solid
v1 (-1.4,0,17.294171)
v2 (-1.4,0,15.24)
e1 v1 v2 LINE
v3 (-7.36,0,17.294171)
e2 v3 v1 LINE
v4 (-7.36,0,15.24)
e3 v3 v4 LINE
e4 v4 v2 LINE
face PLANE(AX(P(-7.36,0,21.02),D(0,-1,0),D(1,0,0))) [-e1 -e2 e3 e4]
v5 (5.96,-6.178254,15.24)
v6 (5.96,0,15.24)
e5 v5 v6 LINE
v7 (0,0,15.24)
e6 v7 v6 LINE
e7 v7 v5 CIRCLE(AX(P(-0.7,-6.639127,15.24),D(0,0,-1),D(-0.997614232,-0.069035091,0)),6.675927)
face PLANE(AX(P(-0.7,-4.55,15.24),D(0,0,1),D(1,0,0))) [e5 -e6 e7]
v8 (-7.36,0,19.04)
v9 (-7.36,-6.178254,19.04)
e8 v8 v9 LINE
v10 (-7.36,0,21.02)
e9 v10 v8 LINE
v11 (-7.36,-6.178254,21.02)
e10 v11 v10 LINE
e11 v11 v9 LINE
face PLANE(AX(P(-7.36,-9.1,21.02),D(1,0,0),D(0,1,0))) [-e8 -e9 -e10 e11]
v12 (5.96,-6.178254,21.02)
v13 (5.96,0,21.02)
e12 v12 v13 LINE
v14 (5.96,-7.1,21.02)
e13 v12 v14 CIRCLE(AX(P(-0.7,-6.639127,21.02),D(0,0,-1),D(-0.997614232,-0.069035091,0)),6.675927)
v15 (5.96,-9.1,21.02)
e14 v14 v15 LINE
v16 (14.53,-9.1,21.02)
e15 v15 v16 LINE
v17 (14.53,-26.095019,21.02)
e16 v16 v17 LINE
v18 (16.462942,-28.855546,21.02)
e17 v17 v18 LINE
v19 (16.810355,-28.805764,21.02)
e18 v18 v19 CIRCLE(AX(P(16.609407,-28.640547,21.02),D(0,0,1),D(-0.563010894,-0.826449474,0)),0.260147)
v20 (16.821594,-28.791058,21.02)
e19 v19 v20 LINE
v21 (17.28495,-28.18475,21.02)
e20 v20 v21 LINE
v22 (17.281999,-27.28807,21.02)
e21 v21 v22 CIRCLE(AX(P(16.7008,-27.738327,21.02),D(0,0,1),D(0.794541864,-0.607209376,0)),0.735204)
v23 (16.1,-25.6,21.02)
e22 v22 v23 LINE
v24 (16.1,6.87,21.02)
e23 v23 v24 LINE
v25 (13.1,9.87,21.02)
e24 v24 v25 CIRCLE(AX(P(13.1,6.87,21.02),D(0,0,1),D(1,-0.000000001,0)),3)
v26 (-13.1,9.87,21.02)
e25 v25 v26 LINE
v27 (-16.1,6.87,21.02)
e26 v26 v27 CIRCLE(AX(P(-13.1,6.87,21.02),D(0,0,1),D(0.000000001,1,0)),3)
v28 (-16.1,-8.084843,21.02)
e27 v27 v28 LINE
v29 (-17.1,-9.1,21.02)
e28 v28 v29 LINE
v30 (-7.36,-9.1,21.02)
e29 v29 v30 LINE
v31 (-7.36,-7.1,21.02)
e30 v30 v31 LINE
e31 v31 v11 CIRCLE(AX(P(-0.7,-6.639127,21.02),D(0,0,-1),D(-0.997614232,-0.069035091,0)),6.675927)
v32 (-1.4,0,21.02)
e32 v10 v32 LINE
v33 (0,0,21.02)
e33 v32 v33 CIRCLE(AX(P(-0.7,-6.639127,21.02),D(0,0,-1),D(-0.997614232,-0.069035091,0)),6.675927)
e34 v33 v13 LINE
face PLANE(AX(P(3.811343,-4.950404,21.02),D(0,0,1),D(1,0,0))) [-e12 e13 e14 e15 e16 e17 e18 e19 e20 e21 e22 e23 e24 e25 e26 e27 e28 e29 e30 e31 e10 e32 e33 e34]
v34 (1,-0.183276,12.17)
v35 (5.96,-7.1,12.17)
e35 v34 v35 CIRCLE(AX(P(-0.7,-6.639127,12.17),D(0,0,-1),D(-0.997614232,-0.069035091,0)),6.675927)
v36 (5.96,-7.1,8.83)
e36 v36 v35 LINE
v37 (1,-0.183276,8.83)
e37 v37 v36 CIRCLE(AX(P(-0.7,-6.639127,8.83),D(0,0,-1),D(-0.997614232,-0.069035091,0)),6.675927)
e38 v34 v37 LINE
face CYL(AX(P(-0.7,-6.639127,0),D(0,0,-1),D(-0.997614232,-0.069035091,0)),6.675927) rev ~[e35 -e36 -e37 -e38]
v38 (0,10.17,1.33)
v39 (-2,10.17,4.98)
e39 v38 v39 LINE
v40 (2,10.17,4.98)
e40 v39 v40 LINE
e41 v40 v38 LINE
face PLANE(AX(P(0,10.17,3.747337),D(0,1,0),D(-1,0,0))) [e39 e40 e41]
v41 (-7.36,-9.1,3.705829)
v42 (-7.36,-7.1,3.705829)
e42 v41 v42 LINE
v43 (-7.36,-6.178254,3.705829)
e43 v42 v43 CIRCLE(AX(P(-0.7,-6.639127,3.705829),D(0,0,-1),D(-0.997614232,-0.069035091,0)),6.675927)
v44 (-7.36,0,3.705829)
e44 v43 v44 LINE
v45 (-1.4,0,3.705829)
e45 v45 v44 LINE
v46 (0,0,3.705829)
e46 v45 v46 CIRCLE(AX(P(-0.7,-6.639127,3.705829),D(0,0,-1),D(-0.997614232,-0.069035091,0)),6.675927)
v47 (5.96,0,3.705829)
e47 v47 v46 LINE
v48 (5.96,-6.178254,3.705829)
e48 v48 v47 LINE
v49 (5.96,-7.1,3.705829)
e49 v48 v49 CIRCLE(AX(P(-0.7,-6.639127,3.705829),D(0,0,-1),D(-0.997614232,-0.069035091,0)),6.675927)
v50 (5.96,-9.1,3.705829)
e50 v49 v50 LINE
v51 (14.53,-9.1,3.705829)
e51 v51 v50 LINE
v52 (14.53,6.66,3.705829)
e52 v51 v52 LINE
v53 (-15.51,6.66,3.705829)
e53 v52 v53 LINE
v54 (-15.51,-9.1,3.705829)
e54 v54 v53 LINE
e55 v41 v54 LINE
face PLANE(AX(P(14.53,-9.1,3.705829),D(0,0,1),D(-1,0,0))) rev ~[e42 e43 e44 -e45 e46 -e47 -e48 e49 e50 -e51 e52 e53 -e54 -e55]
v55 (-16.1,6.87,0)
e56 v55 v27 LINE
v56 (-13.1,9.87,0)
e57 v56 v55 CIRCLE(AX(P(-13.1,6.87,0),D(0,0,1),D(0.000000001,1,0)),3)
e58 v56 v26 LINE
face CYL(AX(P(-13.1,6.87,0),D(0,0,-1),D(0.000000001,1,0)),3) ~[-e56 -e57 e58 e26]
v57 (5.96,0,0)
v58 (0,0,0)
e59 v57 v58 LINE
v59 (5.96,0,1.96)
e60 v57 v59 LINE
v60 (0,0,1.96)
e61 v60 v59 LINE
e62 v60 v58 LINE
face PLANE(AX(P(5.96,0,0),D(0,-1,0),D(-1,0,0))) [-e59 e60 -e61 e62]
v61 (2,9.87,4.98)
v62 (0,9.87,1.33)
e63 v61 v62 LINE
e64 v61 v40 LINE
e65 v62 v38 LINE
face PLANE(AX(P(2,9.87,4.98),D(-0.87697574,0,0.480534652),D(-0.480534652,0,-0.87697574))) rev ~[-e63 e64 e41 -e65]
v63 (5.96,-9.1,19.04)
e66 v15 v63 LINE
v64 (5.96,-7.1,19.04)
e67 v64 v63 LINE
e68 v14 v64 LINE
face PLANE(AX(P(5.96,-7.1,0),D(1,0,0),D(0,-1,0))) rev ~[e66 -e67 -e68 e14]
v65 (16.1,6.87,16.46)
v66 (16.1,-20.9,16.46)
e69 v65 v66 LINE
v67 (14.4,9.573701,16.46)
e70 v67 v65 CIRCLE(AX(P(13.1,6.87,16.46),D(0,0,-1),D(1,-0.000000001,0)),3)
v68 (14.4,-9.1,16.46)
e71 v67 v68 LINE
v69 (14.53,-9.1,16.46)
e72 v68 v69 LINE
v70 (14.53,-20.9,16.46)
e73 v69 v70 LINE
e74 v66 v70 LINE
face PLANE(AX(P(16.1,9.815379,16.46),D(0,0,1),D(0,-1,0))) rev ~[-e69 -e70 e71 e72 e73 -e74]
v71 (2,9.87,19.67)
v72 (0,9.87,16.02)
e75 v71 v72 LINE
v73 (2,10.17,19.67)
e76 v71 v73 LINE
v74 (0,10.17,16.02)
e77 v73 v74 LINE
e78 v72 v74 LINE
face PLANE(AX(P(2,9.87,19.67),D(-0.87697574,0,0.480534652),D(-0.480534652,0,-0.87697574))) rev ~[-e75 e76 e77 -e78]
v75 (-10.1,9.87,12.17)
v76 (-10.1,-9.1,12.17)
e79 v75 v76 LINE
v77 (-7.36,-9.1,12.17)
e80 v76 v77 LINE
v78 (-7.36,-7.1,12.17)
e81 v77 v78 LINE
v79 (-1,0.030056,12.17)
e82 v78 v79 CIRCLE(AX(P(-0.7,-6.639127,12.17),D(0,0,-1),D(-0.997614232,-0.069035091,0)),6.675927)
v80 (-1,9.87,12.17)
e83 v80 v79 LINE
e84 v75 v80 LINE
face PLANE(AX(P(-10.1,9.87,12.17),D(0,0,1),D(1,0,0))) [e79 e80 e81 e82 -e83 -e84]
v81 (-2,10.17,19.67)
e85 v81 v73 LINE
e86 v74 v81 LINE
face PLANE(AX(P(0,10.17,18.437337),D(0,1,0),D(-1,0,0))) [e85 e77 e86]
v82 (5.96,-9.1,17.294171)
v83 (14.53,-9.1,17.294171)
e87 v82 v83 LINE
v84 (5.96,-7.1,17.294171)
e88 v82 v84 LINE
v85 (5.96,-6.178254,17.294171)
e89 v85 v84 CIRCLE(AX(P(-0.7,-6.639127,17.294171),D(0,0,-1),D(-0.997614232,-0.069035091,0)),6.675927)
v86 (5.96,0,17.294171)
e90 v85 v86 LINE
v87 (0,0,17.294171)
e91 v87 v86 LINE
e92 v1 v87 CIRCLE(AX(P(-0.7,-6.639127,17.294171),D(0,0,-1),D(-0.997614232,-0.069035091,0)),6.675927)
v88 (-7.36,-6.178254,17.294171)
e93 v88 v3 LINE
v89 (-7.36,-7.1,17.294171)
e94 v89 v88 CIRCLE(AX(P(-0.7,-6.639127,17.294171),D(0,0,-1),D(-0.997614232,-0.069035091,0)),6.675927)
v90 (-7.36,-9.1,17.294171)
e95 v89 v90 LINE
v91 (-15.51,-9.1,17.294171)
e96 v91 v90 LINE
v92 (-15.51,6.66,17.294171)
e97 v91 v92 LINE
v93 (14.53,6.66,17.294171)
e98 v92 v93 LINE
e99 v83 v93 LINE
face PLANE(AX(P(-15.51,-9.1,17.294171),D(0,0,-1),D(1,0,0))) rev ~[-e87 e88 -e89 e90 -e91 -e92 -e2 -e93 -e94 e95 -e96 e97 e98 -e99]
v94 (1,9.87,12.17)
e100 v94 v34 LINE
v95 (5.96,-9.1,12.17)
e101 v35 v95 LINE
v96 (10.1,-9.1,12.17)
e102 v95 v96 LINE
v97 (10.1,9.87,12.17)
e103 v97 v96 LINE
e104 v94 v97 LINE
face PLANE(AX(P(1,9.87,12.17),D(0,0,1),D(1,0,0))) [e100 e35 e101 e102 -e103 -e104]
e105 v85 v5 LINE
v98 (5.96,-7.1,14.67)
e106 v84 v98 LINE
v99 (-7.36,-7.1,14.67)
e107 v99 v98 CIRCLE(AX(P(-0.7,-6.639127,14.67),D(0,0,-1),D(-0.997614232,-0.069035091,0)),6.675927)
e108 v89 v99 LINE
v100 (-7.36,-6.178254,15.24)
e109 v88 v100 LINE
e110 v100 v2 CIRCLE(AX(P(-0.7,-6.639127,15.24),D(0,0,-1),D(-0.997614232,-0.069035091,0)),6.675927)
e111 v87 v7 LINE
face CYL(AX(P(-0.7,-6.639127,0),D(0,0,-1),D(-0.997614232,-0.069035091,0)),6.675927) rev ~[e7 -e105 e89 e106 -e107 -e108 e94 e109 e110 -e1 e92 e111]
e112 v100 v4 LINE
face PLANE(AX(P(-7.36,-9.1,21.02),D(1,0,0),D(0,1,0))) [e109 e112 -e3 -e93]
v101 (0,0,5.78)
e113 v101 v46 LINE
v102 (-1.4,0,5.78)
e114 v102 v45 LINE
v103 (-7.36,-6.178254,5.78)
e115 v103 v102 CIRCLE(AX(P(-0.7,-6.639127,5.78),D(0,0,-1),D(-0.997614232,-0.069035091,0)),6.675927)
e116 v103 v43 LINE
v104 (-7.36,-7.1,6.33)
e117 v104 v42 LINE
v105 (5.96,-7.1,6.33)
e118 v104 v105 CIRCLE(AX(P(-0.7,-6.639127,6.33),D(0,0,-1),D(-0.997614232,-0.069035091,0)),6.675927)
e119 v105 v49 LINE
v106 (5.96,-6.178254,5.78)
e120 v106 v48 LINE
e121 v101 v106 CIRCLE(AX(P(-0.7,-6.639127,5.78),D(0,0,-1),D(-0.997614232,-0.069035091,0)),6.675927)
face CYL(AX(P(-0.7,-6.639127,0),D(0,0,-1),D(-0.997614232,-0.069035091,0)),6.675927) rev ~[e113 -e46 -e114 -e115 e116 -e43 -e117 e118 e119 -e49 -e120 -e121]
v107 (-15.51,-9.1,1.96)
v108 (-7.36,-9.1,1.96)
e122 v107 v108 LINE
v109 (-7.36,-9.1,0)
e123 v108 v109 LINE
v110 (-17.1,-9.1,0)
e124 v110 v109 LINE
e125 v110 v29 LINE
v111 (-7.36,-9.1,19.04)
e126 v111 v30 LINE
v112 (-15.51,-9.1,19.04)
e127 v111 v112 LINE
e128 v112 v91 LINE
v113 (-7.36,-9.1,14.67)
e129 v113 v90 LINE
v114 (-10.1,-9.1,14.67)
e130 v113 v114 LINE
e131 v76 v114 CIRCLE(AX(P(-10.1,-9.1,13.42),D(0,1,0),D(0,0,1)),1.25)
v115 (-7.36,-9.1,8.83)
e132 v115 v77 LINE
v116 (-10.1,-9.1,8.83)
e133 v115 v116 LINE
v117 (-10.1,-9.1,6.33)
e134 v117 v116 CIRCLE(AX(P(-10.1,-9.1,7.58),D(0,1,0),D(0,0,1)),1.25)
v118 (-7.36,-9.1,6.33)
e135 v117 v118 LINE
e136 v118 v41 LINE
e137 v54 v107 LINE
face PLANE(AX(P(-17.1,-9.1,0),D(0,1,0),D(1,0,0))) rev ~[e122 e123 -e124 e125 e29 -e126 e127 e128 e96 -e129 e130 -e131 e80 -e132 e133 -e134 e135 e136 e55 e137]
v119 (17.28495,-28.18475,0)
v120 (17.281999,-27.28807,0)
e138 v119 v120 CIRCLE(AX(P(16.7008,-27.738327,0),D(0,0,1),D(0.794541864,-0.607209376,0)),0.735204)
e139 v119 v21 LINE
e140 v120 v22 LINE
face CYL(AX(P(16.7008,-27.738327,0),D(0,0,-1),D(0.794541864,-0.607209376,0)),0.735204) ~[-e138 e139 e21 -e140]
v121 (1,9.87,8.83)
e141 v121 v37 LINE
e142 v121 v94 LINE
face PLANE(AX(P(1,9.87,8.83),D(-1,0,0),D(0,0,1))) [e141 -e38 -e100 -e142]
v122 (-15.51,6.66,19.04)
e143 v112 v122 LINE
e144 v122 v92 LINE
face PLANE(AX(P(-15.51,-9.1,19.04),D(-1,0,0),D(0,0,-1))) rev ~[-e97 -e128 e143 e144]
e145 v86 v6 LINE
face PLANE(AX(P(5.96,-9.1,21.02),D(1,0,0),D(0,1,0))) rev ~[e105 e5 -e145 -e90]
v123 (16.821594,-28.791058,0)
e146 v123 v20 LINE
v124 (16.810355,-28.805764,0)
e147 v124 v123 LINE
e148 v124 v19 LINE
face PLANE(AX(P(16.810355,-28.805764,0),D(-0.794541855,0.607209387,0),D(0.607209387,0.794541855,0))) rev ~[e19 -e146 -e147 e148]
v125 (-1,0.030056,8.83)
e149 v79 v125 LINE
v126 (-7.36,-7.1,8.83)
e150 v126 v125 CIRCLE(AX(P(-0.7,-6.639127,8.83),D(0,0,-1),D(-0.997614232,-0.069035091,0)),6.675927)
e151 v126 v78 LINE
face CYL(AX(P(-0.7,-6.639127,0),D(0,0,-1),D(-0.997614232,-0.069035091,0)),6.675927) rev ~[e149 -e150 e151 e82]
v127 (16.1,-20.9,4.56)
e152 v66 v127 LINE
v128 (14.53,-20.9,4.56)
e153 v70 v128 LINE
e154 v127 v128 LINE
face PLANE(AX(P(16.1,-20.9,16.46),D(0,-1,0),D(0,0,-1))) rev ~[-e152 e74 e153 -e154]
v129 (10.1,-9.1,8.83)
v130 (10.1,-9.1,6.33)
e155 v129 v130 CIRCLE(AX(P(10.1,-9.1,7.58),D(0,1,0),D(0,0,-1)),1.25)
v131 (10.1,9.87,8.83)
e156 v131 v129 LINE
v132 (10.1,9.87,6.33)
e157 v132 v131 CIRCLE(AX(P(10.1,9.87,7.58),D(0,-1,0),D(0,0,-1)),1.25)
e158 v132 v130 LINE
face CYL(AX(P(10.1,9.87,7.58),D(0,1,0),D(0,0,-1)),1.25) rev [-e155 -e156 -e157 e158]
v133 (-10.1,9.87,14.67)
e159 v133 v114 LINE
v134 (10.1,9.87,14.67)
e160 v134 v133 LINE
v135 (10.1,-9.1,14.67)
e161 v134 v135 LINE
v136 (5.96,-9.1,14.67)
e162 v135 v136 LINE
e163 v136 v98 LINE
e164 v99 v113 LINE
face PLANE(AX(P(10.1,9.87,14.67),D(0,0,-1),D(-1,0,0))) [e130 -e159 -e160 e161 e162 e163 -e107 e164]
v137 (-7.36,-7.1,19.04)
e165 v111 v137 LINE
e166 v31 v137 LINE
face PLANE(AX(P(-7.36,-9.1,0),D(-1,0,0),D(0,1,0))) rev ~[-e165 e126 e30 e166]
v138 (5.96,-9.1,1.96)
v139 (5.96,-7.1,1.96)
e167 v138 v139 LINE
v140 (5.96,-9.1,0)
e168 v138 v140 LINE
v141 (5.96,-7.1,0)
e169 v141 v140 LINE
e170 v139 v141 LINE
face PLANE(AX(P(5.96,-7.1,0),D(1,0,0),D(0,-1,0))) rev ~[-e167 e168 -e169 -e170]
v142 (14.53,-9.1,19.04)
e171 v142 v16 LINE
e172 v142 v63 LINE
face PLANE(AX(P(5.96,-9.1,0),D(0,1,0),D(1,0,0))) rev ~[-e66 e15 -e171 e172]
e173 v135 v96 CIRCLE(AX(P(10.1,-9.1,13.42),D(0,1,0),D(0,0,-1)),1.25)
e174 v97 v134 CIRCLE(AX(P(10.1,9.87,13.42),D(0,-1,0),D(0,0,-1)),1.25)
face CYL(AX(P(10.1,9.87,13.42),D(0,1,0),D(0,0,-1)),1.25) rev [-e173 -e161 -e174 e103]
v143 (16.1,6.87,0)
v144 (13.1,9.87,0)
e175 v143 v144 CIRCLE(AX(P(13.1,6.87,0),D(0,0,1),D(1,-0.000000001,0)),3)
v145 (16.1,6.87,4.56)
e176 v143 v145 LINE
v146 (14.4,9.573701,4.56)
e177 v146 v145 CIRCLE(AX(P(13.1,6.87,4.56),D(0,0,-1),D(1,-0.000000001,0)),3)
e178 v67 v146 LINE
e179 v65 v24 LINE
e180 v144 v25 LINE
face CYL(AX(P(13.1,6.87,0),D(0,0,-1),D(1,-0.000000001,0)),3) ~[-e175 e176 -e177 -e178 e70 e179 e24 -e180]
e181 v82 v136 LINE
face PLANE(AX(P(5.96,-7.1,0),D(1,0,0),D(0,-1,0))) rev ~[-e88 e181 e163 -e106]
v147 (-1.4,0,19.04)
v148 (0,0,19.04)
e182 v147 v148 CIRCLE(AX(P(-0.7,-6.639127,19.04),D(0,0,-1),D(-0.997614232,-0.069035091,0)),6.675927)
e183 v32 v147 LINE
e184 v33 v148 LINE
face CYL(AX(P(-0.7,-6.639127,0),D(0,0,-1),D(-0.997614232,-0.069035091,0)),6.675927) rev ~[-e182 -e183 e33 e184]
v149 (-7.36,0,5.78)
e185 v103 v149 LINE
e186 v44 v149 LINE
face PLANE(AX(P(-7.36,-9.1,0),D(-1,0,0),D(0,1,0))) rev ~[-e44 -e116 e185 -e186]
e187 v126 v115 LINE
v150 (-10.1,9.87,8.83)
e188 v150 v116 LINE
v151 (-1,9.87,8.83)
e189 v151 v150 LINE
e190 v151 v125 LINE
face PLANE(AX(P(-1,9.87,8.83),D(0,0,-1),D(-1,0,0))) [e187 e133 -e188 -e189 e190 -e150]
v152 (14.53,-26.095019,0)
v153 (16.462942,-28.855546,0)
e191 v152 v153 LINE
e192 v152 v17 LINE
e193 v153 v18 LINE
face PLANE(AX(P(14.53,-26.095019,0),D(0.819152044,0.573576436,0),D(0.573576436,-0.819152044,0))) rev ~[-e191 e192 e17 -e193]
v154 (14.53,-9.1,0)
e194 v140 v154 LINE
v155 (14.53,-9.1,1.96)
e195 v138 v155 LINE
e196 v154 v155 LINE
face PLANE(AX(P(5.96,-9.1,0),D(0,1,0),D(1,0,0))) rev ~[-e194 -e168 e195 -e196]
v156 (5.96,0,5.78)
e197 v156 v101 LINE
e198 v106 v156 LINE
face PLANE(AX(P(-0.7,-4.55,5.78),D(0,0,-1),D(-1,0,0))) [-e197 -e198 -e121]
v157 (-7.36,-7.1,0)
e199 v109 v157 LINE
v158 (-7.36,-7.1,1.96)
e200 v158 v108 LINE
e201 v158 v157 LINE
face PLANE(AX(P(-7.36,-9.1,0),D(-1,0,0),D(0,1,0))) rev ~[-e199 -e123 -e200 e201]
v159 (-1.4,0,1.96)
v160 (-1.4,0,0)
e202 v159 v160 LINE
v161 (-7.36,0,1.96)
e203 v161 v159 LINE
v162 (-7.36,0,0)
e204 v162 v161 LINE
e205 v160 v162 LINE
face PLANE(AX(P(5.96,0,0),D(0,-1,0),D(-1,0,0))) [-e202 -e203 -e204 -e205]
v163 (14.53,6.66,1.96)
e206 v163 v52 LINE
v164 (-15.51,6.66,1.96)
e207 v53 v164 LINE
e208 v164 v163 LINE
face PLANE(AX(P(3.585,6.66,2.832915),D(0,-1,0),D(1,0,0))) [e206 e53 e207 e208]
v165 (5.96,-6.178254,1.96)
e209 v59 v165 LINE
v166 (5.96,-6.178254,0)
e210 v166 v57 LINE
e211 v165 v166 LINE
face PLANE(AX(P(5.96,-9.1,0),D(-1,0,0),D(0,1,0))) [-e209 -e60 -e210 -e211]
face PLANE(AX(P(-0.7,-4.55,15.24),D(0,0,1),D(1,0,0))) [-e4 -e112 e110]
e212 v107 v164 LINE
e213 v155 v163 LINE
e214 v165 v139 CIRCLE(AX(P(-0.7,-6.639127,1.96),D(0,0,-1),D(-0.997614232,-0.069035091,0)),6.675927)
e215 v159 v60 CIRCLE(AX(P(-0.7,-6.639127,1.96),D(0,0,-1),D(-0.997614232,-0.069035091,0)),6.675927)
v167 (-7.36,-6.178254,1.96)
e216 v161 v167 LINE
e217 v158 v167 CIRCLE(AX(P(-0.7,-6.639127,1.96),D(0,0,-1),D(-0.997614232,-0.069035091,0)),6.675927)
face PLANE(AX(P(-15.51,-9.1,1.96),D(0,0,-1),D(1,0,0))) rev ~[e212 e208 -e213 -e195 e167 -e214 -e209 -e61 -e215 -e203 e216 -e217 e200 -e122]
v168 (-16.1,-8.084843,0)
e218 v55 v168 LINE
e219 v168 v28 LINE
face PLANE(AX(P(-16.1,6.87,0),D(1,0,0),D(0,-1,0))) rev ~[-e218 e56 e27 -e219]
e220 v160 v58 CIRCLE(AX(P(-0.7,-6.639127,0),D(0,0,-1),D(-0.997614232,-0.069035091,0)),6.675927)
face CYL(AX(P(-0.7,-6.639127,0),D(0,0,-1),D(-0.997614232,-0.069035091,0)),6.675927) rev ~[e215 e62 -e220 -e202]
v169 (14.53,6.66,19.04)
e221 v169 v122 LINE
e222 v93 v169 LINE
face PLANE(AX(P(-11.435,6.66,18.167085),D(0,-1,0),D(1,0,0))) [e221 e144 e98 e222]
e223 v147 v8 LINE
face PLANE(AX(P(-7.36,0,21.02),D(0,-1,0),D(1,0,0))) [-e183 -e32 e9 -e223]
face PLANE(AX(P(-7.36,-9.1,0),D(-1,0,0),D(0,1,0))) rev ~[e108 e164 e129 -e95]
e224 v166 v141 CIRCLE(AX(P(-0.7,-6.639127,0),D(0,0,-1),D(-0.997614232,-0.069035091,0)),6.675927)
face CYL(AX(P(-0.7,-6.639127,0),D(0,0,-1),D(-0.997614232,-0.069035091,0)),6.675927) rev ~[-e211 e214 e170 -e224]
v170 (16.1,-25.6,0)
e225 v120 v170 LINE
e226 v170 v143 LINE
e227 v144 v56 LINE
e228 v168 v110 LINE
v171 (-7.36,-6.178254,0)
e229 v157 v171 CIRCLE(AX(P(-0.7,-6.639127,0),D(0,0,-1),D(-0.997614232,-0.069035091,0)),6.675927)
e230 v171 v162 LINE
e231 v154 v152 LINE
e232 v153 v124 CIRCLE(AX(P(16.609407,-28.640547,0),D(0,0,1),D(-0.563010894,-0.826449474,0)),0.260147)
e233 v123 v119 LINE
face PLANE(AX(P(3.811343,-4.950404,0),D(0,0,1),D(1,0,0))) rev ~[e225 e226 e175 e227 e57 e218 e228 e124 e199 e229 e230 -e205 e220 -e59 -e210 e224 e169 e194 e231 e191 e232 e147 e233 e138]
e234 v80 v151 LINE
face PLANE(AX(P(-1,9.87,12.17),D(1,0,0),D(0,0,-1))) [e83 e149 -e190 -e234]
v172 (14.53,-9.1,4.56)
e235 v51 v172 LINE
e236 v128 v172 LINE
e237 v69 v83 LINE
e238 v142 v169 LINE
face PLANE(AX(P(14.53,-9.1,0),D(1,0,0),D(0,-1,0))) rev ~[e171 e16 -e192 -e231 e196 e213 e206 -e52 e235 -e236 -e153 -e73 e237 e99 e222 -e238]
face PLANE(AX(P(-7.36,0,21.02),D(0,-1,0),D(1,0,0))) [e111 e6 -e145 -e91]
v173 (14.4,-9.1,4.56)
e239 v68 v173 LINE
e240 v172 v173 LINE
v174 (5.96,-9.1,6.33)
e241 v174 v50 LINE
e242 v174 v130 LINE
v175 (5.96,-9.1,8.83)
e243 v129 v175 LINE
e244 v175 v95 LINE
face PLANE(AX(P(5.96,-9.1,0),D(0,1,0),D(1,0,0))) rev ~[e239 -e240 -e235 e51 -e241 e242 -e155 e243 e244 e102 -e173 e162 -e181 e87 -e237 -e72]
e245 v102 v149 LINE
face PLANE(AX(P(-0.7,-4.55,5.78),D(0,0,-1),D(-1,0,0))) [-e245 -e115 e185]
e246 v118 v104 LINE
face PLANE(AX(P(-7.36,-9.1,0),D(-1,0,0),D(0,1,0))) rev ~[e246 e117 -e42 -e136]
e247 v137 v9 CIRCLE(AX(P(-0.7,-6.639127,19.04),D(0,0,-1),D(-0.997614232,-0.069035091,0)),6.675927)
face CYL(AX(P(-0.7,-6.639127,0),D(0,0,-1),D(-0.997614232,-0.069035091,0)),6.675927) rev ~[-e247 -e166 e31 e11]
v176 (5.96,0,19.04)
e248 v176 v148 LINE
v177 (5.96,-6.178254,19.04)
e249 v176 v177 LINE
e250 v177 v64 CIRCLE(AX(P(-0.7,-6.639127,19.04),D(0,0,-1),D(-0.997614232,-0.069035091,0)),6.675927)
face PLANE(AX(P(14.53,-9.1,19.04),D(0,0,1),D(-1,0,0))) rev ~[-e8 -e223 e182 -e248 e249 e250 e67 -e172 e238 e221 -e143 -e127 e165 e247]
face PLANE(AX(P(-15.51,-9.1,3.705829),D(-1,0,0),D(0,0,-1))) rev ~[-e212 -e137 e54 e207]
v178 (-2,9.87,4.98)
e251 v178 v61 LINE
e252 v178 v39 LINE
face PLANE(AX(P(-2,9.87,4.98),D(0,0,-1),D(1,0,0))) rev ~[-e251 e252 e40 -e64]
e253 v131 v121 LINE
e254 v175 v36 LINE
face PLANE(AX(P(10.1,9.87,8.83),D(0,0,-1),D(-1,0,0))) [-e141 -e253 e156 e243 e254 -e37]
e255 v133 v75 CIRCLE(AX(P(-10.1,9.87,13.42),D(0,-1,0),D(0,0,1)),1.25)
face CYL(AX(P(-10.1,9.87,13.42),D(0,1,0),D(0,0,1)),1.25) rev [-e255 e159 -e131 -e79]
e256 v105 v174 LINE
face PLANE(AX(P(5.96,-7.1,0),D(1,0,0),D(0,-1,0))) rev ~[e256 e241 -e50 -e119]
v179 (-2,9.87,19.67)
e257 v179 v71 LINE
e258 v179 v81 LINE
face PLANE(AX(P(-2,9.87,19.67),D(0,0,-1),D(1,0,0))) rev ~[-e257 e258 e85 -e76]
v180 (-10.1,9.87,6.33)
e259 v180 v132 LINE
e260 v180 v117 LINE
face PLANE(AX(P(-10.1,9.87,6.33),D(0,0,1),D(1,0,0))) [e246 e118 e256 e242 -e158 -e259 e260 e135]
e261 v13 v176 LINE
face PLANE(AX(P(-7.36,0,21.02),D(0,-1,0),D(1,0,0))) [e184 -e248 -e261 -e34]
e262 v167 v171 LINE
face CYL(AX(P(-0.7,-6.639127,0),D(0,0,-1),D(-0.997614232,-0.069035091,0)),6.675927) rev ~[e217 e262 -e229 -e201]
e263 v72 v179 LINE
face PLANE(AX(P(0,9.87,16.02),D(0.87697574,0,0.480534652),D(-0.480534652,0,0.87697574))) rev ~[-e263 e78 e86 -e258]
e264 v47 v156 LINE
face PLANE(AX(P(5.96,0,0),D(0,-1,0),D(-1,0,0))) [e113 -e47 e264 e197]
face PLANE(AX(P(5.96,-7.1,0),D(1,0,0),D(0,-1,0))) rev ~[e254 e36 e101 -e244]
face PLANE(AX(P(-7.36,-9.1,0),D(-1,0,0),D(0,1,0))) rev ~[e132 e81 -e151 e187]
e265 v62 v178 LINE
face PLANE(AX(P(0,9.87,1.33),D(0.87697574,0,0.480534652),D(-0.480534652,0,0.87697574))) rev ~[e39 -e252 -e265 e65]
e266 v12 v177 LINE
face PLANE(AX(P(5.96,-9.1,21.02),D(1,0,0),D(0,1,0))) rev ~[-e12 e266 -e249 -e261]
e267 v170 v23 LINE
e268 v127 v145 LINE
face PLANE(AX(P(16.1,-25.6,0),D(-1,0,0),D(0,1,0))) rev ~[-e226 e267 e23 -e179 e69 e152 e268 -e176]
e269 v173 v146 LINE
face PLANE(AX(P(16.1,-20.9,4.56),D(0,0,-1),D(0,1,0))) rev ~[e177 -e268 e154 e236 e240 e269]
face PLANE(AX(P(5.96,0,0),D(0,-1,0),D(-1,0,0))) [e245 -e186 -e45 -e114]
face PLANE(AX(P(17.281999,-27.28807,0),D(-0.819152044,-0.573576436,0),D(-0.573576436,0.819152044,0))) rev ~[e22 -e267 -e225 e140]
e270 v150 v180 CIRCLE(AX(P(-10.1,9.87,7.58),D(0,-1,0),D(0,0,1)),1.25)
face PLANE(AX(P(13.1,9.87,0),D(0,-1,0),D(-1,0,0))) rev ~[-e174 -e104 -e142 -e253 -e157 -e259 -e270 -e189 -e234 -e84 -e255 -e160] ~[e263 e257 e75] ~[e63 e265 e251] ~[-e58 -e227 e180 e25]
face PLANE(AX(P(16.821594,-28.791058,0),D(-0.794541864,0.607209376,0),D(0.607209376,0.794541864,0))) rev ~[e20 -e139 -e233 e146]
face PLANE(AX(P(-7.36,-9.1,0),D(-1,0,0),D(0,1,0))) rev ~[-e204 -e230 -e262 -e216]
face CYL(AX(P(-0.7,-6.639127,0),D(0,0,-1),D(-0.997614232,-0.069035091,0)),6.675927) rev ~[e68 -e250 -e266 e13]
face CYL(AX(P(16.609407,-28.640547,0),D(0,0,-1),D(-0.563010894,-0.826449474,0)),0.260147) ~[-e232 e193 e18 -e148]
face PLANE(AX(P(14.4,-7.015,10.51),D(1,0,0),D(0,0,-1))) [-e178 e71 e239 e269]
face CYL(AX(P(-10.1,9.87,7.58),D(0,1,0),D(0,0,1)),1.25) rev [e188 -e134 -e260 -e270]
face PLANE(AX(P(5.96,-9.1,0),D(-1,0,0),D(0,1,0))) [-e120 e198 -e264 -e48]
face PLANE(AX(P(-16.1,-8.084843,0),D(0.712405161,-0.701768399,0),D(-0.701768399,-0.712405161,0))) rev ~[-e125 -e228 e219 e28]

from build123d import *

# Parameters (mm, degrees)
SALIENTE_EXTRUIR1_DEPTH = 21.02
CORTAR_EXTRUIR1_DEPTH   = 48.423848102
SALIENTE_EXTRUIR2_DEPTH = 0.3
CORTAR_EXTRUIR2_DEPTH   = 1.7
CROQUIS6_W              = 13.32
CROQUIS6_H              = 9.1
CORTAR_EXTRUIR3_DEPTH   = 5.78
CROQUIS7_W              = 13.32
CROQUIS7_H              = 9.1
CORTAR_EXTRUIR4_DEPTH   = 5.78
CROQUIS8_W              = 21.89
CROQUIS8_H              = 1.74582909
CORTAR_EXTRUIR5_DEPTH   = 15.76


with BuildPart() as part:
    # Croquis2 → Saliente-Extruir1 (new body)
    with BuildSketch(Plane.XY):
        with BuildLine():
            Line((16.1, -25.6), (16.1, -9.1))
            Line((16.1, -9.1), (16.1, 6.87))
            ThreePointArc((16.1, 6.87), (15.221320344, 8.991320344), (13.1, 9.87))
            Line((13.1, 9.87), (-13.1, 9.87))
            ThreePointArc((-13.1, 9.87), (-15.221320344, 8.991320344), (-16.1, 6.87))
            Line((-16.1, 6.87), (-16.1, -8.084842917))
            Line((-16.1, -8.084842917), (-17.1, -9.1))
            Line((-17.1, -9.1), (-16.1, -9.1))
            Line((-16.1, -9.1), (-7.36, -9.1))
            Line((-7.36, -9.1), (-7.36, -7.1))
            ThreePointArc((-7.36, -7.1), (-0.7, 0.036800452), (5.96, -7.1))
            Line((5.96, -7.1), (5.96, -9.1))
            Line((5.96, -9.1), (14.53, -9.1))
            Line((14.53, -9.1), (14.53, -26.095019099))
            Line((14.53, -26.095019099), (16.46294155, -28.855545721))
            ThreePointArc((16.46294155, -28.855545721), (16.646307517, -28.898064095), (16.810355034, -28.805764032))
            Line((16.810355034, -28.805764032), (16.821593757, -28.791058008))
            Line((16.821593757, -28.791058008), (17.28495009, -28.184749839))
            ThreePointArc((17.28495009, -28.184749839), (17.43599966, -27.735907903), (17.281999232, -27.288069848))
            Line((17.281999232, -27.288069848), (16.1, -25.6))
        make_face()
    extrude(amount=SALIENTE_EXTRUIR1_DEPTH)

    # Croquis3 → Cortar-Extruir1 (cut, through all)
    with BuildSketch(Plane(origin=(0, 9.87, 0), x_dir=(1, 0, 0), z_dir=(0, 1, 0))):
        with BuildLine():
            Line((-10.1, -12.17), (-1, -12.17))
            Line((-1, -12.17), (-1, -8.83))
            Line((-1, -8.83), (-10.1, -8.83))
            ThreePointArc((-10.1, -8.83), (-11.35, -7.58), (-10.1, -6.33))
            Line((-10.1, -6.33), (10.1, -6.33))
            ThreePointArc((10.1, -6.33), (11.35, -7.58), (10.1, -8.83))
            Line((10.1, -8.83), (1, -8.83))
            Line((1, -8.83), (1, -12.17))
            Line((1, -12.17), (10.1, -12.17))
            ThreePointArc((10.1, -12.17), (11.35, -13.42), (10.1, -14.67))
            Line((10.1, -14.67), (-10.1, -14.67))
            ThreePointArc((-10.1, -14.67), (-11.35, -13.42), (-10.1, -12.17))
        make_face()
    extrude(amount=-CORTAR_EXTRUIR1_DEPTH, mode=Mode.SUBTRACT)

    # Croquis4 → Saliente-Extruir2 (add)
    with BuildSketch(Plane(origin=(0, 9.87, 0), x_dir=(-1, 0, 0), z_dir=(0, 1, 0))):
        Polygon((0, 16.02), (2, 19.67), (-2, 19.67), align=None)
        Polygon((2, 4.98), (-2, 4.98), (0, 1.33), align=None)
    extrude(amount=SALIENTE_EXTRUIR2_DEPTH)

    # Croquis5 → Cortar-Extruir2 (cut)
    with BuildSketch(Plane(origin=(16.1, 0, 0), x_dir=(0, 0, -1), z_dir=(1, 0, 0))):
        Polygon((-16.46, 6.87), (-16.46, -20.9), (-10.51, -20.9), (-4.56, -20.9), (-4.56, 6.87), align=None)
        Polygon((-16.46, 9.815378902), (-16.46, 6.87), (-4.56, 6.87), (-4.56, 10.17), align=None)
    extrude(amount=-CORTAR_EXTRUIR2_DEPTH, mode=Mode.SUBTRACT)

    # Croquis6 → Cortar-Extruir3 (cut)
    with BuildSketch(Plane(origin=(0, 0, 0), x_dir=(-1, 0, 0), z_dir=(0, 0, -1))):
        with Locations((0.7, -4.55)):
            Rectangle(CROQUIS6_W, CROQUIS6_H)
    extrude(amount=-CORTAR_EXTRUIR3_DEPTH, mode=Mode.SUBTRACT)

    # Croquis7 → Cortar-Extruir4 (cut)
    with BuildSketch(Plane.XY.offset(21.02)):
        with Locations((-0.7, -4.55)):
            Rectangle(CROQUIS7_W, CROQUIS7_H)
    extrude(amount=-CORTAR_EXTRUIR4_DEPTH, mode=Mode.SUBTRACT)

    # Croquis8 → Cortar-Extruir5 (cut)
    with BuildSketch(Plane.XZ.offset(9.1)):
        Polygon((-7.36, 19.04), (-9.552269286, 19.04), (-15.51, 19.04), (-15.51, 17.29417091), (-9.552269286, 17.29417091), (-7.36, 17.29417091), align=None)
        with Locations((3.585, 18.167085455)):
            Rectangle(CROQUIS8_W, CROQUIS8_H)
        with Locations((3.585, 2.832914545)):
            Rectangle(CROQUIS8_W, CROQUIS8_H)
        Polygon((-15.51, 3.70582909), (-15.51, 1.96), (-9.552269286, 1.96), (-7.36, 1.96), (-7.36, 3.70582909), (-9.552269286, 3.70582909), align=None)
    extrude(amount=-CORTAR_EXTRUIR5_DEPTH, mode=Mode.SUBTRACT)


solid = part.part
